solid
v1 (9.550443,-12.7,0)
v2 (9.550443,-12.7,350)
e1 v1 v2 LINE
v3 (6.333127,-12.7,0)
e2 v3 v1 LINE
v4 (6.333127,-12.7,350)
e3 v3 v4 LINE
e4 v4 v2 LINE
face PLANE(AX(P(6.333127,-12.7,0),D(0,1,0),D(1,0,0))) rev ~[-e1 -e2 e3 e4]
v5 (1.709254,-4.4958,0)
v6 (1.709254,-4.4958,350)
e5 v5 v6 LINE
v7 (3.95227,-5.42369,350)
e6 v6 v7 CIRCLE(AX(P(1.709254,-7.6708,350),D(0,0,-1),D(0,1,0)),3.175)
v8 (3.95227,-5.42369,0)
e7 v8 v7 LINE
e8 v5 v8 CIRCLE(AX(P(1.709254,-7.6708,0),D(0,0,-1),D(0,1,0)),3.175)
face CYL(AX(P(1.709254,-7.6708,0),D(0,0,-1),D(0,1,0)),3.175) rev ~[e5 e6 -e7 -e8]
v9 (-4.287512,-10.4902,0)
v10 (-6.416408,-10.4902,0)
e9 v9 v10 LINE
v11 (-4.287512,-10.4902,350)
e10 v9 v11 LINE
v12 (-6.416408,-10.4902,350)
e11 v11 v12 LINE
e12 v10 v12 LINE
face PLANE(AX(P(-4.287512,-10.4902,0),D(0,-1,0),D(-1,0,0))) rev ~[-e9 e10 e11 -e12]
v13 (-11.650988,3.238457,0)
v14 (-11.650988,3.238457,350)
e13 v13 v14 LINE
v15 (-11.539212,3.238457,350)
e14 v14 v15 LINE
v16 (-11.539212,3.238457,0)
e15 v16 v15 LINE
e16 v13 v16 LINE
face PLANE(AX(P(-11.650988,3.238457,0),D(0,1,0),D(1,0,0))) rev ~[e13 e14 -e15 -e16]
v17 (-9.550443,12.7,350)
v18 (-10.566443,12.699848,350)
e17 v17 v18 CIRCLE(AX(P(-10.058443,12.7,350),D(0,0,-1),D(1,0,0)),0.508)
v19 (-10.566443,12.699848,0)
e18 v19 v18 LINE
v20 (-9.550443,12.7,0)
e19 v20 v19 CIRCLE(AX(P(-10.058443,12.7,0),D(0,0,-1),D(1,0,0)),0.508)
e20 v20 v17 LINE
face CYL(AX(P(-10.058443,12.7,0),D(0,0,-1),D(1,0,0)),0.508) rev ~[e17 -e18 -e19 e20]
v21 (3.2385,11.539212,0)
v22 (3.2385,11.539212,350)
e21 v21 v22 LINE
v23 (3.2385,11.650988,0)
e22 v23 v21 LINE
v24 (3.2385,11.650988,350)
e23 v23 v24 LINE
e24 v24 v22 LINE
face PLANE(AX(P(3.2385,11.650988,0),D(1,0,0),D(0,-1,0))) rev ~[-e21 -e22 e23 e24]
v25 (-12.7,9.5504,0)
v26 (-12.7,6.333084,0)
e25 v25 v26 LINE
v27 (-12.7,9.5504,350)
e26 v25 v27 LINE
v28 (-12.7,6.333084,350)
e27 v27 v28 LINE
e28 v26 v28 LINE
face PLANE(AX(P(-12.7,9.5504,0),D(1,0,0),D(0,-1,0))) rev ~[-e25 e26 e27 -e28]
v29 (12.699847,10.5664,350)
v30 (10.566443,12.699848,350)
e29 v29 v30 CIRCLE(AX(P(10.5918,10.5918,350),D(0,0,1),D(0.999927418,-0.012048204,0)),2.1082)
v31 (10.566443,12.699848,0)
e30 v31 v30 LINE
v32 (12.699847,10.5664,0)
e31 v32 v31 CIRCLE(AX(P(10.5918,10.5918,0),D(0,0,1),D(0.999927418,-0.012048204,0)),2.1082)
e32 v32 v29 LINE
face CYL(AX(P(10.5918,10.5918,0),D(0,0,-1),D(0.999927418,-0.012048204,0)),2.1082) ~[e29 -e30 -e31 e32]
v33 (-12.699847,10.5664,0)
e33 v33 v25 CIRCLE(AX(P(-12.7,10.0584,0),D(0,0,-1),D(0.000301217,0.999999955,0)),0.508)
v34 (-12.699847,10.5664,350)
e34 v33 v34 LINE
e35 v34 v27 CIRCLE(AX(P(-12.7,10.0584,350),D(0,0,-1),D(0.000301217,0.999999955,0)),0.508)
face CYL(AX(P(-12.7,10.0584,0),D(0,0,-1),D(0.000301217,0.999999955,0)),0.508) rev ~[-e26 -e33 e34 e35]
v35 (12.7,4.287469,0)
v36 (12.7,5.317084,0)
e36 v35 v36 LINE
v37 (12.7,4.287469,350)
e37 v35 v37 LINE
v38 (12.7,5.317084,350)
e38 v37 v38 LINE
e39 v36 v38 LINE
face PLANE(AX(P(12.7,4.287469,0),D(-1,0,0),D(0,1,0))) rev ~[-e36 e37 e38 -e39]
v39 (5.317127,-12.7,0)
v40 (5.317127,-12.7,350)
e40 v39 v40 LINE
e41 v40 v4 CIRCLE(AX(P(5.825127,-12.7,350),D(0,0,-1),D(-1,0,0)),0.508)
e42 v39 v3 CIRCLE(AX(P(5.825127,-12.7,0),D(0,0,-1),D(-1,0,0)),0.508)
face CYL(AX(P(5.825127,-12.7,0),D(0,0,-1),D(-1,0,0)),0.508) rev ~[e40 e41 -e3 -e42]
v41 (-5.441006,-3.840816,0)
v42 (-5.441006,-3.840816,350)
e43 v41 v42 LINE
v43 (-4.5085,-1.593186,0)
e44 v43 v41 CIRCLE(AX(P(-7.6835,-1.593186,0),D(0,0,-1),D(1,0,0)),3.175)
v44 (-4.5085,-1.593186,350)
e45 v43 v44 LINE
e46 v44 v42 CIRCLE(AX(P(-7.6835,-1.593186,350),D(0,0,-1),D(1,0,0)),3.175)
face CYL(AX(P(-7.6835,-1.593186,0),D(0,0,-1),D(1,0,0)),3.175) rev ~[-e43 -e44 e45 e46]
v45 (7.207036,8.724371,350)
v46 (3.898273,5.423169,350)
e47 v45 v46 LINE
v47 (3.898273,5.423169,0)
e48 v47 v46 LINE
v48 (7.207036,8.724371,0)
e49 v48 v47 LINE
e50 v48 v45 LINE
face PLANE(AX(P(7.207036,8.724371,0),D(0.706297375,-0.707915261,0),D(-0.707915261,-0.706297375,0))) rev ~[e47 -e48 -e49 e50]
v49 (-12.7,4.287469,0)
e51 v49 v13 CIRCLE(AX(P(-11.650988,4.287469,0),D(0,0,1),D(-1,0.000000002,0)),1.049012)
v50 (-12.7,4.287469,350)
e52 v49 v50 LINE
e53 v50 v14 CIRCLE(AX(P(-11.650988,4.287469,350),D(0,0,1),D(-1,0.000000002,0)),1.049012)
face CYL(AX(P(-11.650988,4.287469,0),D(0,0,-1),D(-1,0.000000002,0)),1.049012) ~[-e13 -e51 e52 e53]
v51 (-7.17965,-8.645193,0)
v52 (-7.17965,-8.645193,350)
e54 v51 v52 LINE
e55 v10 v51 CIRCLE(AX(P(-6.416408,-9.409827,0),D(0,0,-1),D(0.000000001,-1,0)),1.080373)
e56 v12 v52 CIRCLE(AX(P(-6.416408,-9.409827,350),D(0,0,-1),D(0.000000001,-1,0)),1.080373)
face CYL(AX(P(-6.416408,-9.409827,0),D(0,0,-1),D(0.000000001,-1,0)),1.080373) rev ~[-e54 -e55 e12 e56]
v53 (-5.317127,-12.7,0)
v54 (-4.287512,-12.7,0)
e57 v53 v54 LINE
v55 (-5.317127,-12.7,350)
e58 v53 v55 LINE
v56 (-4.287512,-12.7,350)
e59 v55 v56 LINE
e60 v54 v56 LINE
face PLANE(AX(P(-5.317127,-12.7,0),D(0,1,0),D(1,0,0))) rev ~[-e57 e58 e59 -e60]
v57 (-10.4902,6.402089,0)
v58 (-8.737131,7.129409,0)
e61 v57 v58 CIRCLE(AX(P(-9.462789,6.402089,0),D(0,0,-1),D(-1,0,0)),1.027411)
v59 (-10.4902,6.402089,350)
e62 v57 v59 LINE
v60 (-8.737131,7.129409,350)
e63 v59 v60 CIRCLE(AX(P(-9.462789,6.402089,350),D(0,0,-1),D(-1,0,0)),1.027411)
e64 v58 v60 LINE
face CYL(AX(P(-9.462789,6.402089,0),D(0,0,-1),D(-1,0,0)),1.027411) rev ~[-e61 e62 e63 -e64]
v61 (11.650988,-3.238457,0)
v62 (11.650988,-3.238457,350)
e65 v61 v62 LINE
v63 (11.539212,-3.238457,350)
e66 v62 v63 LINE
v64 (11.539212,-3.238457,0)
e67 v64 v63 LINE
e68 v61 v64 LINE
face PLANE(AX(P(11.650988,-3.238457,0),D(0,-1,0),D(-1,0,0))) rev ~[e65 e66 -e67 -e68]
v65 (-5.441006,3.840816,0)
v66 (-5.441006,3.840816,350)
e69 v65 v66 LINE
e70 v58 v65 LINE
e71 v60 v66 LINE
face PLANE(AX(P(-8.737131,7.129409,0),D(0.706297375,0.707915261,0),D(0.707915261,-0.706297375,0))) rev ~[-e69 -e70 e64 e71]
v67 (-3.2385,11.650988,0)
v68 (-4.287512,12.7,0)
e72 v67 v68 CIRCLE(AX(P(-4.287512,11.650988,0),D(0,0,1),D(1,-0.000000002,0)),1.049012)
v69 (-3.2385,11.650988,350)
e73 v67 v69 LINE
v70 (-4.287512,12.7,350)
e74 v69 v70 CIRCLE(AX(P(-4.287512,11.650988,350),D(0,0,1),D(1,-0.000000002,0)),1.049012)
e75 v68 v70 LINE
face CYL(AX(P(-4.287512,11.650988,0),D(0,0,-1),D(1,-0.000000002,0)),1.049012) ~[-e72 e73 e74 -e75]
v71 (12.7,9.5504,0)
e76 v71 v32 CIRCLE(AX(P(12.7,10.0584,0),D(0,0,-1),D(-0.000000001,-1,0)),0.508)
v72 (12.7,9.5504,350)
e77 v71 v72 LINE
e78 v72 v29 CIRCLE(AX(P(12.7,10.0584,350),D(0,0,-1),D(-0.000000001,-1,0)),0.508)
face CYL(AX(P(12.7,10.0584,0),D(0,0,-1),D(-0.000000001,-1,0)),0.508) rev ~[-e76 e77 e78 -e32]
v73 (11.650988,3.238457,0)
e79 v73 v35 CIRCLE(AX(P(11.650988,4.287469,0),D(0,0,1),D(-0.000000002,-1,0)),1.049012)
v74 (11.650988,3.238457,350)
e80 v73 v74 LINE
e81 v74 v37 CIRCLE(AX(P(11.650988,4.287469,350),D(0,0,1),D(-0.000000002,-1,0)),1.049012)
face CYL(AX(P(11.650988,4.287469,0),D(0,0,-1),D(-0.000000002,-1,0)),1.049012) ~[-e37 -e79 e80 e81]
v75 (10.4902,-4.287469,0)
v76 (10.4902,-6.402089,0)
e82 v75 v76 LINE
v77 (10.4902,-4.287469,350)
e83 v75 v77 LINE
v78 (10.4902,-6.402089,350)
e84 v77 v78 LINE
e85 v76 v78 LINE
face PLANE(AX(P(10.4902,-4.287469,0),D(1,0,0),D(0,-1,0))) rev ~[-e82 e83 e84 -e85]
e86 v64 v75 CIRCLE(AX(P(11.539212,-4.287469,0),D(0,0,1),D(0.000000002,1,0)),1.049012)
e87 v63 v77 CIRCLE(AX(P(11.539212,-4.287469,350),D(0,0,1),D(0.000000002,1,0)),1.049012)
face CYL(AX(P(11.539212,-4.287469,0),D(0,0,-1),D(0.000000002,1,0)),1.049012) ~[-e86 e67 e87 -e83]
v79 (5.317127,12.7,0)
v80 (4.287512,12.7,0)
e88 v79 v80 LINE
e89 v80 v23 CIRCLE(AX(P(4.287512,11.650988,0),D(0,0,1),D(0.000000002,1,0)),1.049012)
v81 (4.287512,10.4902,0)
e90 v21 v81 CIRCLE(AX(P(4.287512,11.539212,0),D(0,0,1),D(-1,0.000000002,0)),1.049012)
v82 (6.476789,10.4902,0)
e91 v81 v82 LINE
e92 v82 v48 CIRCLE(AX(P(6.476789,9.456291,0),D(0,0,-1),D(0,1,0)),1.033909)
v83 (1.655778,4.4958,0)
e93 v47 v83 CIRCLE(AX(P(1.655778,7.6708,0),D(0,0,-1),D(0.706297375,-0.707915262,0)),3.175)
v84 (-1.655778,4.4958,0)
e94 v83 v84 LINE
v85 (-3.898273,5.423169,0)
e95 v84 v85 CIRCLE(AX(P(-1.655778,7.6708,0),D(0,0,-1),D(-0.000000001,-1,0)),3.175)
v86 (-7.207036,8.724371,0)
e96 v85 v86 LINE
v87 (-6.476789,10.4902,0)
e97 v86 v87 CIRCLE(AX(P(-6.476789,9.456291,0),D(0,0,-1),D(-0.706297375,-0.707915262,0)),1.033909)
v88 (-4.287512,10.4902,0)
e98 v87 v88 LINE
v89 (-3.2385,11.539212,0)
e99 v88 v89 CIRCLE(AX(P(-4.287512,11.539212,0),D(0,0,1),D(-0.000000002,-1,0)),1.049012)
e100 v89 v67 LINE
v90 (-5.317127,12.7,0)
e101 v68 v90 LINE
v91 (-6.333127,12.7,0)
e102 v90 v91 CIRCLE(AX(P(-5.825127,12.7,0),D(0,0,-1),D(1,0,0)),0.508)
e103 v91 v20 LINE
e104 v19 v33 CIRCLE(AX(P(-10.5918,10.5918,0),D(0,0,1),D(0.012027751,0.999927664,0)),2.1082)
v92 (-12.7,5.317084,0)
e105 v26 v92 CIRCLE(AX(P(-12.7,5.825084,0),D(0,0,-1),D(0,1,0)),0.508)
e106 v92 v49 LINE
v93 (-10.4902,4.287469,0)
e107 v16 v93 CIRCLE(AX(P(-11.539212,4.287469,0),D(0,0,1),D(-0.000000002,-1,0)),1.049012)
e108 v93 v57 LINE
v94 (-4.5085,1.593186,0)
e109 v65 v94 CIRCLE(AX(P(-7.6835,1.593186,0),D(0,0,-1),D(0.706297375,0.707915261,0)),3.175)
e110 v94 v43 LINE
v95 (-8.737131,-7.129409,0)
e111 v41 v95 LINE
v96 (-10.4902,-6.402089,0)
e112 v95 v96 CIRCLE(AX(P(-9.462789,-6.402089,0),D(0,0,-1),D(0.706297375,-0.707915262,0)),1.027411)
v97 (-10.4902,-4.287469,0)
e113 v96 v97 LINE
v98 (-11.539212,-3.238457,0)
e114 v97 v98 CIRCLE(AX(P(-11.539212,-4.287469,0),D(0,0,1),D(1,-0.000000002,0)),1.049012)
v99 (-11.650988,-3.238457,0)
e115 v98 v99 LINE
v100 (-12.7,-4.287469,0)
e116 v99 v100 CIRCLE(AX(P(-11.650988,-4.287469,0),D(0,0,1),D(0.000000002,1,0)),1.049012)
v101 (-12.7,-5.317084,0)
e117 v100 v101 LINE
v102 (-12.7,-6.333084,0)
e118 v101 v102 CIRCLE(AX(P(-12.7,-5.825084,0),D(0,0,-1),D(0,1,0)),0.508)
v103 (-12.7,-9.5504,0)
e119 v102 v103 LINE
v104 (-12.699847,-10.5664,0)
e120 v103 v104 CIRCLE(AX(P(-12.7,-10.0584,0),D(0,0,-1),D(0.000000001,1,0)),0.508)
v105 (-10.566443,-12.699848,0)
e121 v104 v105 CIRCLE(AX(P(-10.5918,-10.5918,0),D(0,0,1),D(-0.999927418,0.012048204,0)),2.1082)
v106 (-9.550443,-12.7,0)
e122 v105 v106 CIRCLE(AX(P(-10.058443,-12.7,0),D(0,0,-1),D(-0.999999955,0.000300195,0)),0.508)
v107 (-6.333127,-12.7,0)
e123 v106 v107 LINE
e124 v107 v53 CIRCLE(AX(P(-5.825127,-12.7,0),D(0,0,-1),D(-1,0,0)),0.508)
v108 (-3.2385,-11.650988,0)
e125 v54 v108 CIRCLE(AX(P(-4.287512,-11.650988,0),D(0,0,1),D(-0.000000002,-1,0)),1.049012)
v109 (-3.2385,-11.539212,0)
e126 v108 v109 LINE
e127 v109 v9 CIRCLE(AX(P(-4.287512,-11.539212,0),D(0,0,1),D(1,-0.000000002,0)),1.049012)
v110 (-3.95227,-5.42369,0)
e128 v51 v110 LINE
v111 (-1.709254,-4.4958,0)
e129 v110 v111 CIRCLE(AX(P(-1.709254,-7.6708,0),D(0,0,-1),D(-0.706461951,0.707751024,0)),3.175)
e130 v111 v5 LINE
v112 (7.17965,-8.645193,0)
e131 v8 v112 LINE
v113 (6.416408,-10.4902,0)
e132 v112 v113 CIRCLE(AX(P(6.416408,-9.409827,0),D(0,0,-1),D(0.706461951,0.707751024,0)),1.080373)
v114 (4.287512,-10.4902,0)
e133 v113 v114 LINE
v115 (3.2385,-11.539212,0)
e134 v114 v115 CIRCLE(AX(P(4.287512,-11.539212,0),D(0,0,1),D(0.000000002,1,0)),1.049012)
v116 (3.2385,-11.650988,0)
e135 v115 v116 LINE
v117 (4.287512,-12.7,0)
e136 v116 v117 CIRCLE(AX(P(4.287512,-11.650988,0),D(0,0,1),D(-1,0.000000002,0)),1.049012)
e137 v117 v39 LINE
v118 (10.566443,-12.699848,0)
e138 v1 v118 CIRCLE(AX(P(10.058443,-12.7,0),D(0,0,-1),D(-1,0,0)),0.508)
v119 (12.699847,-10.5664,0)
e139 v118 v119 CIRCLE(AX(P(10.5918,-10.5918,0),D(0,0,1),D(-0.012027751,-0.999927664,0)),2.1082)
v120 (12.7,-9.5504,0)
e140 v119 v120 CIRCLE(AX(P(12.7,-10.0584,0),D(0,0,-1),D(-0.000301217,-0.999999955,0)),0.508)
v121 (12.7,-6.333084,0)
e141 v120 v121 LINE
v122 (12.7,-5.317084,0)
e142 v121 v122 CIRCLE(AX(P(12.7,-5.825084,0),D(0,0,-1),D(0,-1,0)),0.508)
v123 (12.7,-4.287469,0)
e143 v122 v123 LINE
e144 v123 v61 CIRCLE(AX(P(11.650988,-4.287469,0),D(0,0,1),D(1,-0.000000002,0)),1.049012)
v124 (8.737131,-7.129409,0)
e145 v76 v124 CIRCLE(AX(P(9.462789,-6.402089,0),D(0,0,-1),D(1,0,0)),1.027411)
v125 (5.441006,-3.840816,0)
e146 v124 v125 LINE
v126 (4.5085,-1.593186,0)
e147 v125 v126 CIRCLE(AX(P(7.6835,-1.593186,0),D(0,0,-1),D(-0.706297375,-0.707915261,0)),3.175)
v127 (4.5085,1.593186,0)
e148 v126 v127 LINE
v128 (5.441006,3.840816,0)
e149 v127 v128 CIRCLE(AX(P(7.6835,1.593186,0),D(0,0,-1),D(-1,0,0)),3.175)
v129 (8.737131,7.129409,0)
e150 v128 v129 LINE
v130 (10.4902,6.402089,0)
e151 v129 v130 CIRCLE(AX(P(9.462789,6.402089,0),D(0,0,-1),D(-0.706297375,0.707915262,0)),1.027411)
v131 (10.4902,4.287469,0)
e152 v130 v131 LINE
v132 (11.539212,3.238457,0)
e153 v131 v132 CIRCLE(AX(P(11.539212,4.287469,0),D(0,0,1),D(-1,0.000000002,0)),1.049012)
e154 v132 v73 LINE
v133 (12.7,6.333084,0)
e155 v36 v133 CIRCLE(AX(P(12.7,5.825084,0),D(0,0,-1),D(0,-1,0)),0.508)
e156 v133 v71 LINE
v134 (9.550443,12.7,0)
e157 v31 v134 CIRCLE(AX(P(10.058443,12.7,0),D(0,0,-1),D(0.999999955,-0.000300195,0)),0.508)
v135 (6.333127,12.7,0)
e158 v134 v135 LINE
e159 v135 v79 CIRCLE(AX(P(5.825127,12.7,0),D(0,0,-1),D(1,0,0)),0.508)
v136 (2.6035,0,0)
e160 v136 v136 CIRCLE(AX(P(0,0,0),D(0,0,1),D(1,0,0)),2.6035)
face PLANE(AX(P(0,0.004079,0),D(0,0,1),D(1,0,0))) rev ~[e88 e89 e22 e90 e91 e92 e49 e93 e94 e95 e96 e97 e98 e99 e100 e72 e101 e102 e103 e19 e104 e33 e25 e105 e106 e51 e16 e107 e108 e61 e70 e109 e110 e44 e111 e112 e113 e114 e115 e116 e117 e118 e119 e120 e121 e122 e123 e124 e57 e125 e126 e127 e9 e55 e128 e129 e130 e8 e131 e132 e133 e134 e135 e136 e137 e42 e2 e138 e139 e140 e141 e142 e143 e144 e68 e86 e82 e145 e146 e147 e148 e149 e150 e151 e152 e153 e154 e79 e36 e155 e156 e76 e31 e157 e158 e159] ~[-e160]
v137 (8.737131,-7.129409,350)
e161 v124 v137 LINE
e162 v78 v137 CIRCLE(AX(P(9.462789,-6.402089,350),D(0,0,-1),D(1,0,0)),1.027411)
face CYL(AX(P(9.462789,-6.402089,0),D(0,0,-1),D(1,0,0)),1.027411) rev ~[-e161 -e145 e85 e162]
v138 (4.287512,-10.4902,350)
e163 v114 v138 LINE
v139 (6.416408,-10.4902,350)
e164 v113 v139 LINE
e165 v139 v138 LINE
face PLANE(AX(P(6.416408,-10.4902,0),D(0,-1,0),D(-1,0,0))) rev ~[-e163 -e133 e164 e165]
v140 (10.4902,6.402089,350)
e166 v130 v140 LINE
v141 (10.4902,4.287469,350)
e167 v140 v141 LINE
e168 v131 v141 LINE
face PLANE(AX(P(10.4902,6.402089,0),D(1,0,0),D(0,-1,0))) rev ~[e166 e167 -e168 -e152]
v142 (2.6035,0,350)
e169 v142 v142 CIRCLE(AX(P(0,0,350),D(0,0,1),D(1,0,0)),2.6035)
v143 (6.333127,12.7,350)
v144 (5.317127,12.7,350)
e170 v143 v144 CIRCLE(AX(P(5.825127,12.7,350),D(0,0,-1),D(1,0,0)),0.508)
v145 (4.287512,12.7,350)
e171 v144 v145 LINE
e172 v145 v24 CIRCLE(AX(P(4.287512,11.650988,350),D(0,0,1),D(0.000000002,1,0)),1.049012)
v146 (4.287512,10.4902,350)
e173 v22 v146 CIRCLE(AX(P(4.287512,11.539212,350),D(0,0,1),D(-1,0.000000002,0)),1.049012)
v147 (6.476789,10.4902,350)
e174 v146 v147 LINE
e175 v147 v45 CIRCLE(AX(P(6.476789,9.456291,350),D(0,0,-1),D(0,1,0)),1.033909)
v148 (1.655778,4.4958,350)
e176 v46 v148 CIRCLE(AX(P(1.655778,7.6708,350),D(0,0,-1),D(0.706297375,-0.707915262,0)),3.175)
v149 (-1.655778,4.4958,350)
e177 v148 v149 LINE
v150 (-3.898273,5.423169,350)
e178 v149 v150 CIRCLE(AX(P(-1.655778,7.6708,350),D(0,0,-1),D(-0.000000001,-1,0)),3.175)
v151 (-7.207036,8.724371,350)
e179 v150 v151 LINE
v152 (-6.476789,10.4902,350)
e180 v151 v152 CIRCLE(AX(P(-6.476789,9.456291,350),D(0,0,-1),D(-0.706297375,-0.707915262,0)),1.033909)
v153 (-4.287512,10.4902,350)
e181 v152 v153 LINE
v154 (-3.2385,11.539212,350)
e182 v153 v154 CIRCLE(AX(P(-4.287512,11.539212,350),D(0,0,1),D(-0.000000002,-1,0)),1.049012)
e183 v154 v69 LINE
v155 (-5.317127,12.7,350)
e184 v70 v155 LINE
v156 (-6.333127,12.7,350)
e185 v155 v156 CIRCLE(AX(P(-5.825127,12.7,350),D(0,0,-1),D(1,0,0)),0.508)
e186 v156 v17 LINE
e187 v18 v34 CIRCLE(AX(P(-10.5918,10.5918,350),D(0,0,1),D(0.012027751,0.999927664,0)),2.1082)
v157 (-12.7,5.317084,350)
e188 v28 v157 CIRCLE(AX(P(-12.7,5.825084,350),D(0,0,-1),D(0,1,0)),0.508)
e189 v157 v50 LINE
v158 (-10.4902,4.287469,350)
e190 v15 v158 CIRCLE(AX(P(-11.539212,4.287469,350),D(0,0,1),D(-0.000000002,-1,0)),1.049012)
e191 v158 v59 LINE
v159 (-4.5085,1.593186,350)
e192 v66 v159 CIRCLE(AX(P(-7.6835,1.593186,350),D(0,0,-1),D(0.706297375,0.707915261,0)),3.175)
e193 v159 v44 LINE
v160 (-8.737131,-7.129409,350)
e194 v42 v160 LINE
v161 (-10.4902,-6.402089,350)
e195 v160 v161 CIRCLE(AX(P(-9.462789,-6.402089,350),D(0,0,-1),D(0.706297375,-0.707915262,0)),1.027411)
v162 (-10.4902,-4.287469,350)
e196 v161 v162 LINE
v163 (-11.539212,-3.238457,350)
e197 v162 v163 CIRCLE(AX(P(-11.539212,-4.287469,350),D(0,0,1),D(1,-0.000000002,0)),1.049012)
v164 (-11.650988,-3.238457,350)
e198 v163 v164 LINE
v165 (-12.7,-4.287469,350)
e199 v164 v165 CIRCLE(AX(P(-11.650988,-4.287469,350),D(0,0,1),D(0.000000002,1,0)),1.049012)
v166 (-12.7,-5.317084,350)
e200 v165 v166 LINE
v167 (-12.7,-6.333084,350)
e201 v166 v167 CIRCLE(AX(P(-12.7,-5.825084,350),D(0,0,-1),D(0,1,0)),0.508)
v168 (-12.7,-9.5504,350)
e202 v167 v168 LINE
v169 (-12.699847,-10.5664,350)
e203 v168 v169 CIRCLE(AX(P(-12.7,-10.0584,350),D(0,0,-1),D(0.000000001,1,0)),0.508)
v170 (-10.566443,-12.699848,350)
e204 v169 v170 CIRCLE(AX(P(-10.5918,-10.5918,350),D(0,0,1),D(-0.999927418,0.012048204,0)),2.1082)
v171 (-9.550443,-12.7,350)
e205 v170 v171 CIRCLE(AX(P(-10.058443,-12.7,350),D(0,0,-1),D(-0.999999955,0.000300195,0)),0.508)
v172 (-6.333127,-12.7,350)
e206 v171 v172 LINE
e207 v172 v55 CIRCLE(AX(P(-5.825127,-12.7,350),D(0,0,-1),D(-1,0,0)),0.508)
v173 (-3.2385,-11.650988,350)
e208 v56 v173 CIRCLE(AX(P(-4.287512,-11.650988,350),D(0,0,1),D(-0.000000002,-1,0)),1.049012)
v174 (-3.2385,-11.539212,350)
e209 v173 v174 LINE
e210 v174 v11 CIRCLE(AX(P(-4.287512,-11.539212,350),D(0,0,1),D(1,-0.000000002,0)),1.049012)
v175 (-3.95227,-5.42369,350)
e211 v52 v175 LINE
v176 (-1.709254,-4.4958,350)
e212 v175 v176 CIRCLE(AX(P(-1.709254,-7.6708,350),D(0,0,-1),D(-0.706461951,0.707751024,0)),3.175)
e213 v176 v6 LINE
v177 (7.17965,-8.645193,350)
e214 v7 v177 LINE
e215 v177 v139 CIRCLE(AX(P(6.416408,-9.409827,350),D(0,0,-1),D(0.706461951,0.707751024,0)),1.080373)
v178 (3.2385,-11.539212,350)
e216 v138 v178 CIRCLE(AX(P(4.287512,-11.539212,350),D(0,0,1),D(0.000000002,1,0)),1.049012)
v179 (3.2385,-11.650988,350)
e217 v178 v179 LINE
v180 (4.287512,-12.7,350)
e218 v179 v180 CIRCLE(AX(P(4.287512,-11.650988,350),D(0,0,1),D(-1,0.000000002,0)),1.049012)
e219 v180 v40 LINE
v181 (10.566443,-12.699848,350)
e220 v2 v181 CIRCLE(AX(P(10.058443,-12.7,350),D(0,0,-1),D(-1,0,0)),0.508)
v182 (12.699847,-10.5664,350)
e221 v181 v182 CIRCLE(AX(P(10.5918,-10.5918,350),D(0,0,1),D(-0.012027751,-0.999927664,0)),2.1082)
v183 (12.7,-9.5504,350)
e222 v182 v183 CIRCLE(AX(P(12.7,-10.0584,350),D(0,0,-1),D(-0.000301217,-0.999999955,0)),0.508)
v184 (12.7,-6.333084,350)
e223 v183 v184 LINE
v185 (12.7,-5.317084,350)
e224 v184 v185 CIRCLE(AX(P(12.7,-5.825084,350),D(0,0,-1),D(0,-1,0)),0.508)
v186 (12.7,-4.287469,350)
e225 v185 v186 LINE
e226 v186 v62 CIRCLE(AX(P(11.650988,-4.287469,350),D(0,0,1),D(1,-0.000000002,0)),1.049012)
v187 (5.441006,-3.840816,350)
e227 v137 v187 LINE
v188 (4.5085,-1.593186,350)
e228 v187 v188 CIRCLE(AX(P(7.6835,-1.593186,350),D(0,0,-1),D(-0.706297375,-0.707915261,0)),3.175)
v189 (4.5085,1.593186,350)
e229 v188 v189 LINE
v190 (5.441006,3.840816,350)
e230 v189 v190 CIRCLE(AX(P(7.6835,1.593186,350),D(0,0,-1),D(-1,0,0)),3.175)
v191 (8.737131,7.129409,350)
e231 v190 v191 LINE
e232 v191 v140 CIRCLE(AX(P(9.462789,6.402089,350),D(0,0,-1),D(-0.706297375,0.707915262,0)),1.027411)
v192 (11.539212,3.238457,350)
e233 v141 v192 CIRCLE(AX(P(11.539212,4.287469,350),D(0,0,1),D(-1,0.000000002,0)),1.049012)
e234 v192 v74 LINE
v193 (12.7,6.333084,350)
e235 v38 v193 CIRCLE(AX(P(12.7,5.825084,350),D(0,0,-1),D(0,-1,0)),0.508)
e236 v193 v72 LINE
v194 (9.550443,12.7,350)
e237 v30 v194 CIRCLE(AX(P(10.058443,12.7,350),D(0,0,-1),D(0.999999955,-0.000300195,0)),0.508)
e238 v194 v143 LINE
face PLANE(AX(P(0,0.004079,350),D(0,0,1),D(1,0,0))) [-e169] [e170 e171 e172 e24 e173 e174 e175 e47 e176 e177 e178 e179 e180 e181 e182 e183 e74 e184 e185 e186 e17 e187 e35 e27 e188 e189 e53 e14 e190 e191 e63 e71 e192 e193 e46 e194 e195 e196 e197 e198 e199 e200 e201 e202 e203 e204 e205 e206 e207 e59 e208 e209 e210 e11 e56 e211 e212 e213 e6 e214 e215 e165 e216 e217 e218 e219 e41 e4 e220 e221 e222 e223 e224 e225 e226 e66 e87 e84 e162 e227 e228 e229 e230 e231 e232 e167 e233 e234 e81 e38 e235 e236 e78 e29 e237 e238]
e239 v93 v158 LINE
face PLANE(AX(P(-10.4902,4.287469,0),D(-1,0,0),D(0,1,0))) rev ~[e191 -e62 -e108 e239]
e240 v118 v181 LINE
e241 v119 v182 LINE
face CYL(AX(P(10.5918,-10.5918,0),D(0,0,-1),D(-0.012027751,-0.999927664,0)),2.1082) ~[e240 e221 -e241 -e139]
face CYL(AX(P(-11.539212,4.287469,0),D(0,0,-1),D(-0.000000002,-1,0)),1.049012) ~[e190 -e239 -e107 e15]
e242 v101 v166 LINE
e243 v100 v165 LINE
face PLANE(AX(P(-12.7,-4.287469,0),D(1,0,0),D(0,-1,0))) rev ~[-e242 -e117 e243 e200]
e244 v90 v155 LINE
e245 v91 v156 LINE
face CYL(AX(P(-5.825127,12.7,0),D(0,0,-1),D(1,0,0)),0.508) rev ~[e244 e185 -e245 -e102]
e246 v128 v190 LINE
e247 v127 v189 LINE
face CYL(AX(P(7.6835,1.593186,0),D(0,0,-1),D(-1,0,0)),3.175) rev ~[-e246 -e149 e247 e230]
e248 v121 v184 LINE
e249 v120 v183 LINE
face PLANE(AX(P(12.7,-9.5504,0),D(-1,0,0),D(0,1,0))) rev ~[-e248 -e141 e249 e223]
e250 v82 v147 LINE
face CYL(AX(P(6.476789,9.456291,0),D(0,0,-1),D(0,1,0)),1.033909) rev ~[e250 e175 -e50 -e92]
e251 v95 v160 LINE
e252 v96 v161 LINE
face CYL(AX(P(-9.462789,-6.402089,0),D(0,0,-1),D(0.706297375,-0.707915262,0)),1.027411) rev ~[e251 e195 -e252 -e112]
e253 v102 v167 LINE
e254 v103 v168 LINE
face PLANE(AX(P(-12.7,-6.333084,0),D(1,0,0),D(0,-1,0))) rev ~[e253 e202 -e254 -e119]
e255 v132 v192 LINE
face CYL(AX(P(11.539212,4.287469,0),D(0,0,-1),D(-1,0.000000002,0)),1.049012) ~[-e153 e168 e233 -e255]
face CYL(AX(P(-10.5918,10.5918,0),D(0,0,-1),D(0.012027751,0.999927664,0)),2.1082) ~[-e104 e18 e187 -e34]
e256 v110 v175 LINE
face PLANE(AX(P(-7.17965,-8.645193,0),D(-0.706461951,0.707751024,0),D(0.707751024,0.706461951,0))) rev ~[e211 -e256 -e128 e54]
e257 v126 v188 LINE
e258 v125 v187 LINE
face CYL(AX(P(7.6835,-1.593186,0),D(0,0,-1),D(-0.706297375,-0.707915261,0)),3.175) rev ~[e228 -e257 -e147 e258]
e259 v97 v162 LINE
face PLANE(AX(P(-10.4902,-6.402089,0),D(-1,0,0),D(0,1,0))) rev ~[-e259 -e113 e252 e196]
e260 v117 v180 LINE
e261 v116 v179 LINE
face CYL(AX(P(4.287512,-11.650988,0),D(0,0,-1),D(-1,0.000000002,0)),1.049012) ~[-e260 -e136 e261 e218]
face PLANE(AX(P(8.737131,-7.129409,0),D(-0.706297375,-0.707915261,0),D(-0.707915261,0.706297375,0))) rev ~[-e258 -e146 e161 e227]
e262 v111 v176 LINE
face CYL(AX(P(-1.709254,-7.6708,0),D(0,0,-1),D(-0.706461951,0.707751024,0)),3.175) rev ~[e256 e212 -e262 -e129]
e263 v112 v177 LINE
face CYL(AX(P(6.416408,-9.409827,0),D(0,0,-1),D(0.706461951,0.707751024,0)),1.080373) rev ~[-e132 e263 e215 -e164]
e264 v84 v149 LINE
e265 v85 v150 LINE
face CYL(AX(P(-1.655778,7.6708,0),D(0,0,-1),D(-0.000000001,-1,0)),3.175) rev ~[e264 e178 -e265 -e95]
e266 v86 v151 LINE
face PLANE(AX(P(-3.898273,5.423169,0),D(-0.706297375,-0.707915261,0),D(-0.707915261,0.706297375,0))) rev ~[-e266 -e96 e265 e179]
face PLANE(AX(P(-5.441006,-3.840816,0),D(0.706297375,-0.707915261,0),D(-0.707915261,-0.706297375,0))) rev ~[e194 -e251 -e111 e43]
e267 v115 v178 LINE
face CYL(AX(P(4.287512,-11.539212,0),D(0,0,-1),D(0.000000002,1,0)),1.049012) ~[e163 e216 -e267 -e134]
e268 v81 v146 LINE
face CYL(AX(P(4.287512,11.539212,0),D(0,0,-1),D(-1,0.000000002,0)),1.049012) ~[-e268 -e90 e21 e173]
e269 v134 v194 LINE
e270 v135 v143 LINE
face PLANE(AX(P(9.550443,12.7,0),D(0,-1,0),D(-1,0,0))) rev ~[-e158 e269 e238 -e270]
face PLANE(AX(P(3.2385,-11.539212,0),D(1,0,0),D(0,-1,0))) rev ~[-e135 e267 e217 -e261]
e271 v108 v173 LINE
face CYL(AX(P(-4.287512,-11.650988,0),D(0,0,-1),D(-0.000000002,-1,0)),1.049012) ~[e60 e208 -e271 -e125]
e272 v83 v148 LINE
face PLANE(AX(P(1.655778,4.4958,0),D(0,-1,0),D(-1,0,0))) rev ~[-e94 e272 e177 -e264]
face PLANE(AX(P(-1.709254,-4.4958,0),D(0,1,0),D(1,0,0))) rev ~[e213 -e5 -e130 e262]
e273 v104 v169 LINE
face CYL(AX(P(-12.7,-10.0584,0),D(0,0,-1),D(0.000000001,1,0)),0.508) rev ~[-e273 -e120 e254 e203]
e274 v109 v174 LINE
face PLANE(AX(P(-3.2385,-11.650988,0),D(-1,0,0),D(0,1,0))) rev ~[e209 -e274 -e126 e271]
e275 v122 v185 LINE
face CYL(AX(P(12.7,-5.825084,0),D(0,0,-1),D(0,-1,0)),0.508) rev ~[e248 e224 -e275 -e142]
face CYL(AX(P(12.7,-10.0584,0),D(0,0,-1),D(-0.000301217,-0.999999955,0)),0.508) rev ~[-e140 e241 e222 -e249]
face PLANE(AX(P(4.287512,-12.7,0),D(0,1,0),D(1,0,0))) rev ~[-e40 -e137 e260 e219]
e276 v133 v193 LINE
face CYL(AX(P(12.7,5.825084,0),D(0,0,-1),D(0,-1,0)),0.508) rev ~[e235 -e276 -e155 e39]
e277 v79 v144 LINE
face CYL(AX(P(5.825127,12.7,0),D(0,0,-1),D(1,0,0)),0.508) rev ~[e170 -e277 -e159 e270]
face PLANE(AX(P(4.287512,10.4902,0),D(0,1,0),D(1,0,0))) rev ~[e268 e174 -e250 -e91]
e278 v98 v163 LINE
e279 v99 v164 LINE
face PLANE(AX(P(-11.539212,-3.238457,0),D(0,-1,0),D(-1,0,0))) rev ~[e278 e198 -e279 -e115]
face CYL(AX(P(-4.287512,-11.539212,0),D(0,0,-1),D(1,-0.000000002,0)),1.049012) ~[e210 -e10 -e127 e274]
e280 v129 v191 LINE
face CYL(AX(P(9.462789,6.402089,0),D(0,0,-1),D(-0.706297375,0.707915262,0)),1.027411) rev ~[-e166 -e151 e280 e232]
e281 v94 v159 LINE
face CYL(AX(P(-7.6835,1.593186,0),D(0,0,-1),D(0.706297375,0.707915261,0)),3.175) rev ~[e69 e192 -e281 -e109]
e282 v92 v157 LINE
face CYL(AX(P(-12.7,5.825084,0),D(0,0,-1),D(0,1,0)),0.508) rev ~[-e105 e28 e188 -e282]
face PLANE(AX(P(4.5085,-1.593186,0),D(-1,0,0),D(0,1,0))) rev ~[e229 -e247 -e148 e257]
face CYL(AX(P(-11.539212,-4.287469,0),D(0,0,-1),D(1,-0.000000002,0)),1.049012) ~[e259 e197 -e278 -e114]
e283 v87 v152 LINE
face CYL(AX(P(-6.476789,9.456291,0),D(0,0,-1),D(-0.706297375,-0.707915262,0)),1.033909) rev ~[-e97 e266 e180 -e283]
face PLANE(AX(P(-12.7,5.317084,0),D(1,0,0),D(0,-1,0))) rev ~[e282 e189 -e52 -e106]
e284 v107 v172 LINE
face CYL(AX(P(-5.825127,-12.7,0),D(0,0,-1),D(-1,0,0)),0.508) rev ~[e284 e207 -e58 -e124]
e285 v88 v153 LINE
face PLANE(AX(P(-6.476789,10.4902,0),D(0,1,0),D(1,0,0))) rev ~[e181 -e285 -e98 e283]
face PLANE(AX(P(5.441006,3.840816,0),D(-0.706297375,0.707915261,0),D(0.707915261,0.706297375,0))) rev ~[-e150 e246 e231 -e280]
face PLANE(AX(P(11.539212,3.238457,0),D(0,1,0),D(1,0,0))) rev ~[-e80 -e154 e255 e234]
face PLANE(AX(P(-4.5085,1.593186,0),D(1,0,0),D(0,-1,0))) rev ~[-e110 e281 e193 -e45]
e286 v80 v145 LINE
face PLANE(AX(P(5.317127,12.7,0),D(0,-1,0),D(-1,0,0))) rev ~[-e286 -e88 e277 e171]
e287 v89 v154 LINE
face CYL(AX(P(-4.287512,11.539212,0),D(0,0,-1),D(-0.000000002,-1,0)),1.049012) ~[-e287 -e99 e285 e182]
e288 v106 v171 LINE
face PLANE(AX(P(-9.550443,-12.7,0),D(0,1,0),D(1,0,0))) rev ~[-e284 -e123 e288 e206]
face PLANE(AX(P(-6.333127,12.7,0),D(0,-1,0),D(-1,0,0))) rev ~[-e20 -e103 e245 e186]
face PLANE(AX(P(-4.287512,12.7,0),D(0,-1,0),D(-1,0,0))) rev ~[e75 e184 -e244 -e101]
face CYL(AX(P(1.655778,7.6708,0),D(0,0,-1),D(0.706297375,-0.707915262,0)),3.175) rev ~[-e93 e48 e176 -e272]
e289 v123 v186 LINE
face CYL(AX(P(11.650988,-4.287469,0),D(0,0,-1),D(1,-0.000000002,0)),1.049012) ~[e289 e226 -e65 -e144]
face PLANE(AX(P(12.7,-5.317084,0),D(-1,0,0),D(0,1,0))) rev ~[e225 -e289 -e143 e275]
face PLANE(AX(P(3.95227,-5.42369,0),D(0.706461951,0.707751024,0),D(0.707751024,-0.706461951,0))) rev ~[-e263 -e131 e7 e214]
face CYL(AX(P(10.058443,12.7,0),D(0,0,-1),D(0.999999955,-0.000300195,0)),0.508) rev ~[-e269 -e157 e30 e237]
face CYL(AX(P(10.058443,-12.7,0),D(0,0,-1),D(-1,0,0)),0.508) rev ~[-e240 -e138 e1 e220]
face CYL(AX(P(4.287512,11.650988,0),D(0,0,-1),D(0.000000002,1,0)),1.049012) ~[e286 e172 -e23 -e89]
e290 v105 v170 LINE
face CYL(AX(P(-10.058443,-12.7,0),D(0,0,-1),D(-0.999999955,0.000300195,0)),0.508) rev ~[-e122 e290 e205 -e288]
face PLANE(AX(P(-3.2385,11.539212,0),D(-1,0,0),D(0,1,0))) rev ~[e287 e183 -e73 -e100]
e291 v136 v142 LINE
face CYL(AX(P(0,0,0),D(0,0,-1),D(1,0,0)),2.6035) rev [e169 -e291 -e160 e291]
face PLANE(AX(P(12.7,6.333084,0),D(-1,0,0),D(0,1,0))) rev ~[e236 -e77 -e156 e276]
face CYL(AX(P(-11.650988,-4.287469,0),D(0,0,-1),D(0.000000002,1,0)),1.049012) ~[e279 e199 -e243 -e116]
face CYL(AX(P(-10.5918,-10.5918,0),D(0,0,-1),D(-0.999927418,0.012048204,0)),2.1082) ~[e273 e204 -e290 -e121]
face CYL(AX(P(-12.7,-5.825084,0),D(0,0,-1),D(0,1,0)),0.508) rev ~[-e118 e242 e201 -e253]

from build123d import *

# Parameters (mm, degrees)
SKETCH1_R           = 2.6035
BOSS_EXTRUDE1_DEPTH = 350


with BuildPart() as part:
    # Sketch1 → Boss-Extrude1 (new body)
    with BuildSketch(Plane.XY):
        with BuildLine():
            Line((-7.179650497, -8.645192506), (-3.952270251, -5.423690499))
            ThreePointArc((-3.952270251, -5.423690499), (-2.922936451, -4.736929036), (-1.709253557, -4.4958))
            Line((-1.709253557, -4.4958), (1.709253557, -4.4958))
            ThreePointArc((1.709253557, -4.4958), (2.922936451, -4.736929036), (3.952270251, -5.423690499))
            Line((3.952270251, -5.423690499), (7.179650497, -8.645192506))
            ThreePointArc((7.179650497, -8.645192506), (7.41473083, -9.822813117), (6.416408329, -10.4902))
            Line((6.416408329, -10.4902), (4.287512407, -10.4902))
            ThreePointArc((4.287512407, -10.4902), (3.54574862, -10.79744862), (3.2385, -11.539212407))
            Line((3.2385, -11.539212407), (3.2385, -11.650987593))
            ThreePointArc((3.2385, -11.650987593), (3.54574862, -12.39275138), (4.287512407, -12.7))
            Line((4.287512407, -12.7), (5.317126718, -12.7))
            ThreePointArc((5.317126718, -12.7), (5.825126718, -12.192), (6.333126718, -12.7))
            Line((6.333126718, -12.7), (9.550443118, -12.7))
            ThreePointArc((9.550443118, -12.7), (10.058366869, -12.192000006), (10.566443095, -12.699847501))
            ThreePointArc((10.566443095, -12.699847501), (12.082537762, -12.08250727), (12.699846982, -10.566399977))
            ThreePointArc((12.699846982, -10.566399977), (12.192000006, -10.058323491), (12.7, -9.5504))
            Line((12.7, -9.5504), (12.7, -6.3330836))
            ThreePointArc((12.7, -6.3330836), (12.192, -5.8250836), (12.7, -5.3170836))
            Line((12.7, -5.3170836), (12.7, -4.287469289))
            ThreePointArc((12.7, -4.287469289), (12.39275138, -3.545705502), (11.650987593, -3.238456882))
            Line((11.650987593, -3.238456882), (11.539212407, -3.238456882))
            ThreePointArc((11.539212407, -3.238456882), (10.79744862, -3.545705502), (10.4902, -4.287469289))
            Line((10.4902, -4.287469289), (10.4902, -6.402089023))
            ThreePointArc((10.4902, -6.402089023), (9.856505071, -7.351067942), (8.737131347, -7.129408934))
            Line((8.737131347, -7.129408934), (5.441005833, -3.840816462))
            ThreePointArc((5.441005833, -3.840816462), (4.750877967, -2.809883091), (4.5085, -1.593185507))
            Line((4.5085, -1.593185507), (4.5085, 1.593185507))
            ThreePointArc((4.5085, 1.593185507), (4.750877967, 2.809883091), (5.441005833, 3.840816462))
            Line((5.441005833, 3.840816462), (8.737131347, 7.129408934))
            ThreePointArc((8.737131347, 7.129408934), (9.856505071, 7.351067942), (10.4902, 6.402089023))
            Line((10.4902, 6.402089023), (10.4902, 4.287469289))
            ThreePointArc((10.4902, 4.287469289), (10.79744862, 3.545705502), (11.539212407, 3.238456882))
            Line((11.539212407, 3.238456882), (11.650987593, 3.238456882))
            ThreePointArc((11.650987593, 3.238456882), (12.39275138, 3.545705502), (12.7, 4.287469289))
            Line((12.7, 4.287469289), (12.7, 5.3170836))
            ThreePointArc((12.7, 5.3170836), (12.192, 5.8250836), (12.7, 6.3330836))
            Line((12.7, 6.3330836), (12.7, 9.5504))
            ThreePointArc((12.7, 9.5504), (12.192000006, 10.058323491), (12.699846982, 10.566399977))
            ThreePointArc((12.699846982, 10.566399977), (12.082537762, 12.08250727), (10.566443095, 12.699847501))
            ThreePointArc((10.566443095, 12.699847501), (10.058366869, 12.192000006), (9.550443118, 12.7))
            Line((9.550443118, 12.7), (6.333126718, 12.7))
            ThreePointArc((6.333126718, 12.7), (5.825126718, 12.192), (5.317126718, 12.7))
            Line((5.317126718, 12.7), (4.287512407, 12.7))
            ThreePointArc((4.287512407, 12.7), (3.54574862, 12.39275138), (3.2385, 11.650987593))
            Line((3.2385, 11.650987593), (3.2385, 11.539212407))
            ThreePointArc((3.2385, 11.539212407), (3.54574862, 10.79744862), (4.287512407, 10.4902))
            Line((4.287512407, 10.4902), (6.476788598, 10.4902))
            ThreePointArc((6.476788598, 10.4902), (7.432222385, 9.85140422), (7.207036008, 8.724370562))
            Line((7.207036008, 8.724370562), (3.898272566, 5.423169045))
            ThreePointArc((3.898272566, 5.423169045), (2.869120213, 4.736787962), (1.655778399, 4.4958))
            Line((1.655778399, 4.4958), (-1.655778399, 4.4958))
            ThreePointArc((-1.655778399, 4.4958), (-2.869120213, 4.736787962), (-3.898272566, 5.423169045))
            Line((-3.898272566, 5.423169045), (-7.207036008, 8.724370562))
            ThreePointArc((-7.207036008, 8.724370562), (-7.432222385, 9.85140422), (-6.476788598, 10.4902))
            Line((-6.476788598, 10.4902), (-4.287512407, 10.4902))
            ThreePointArc((-4.287512407, 10.4902), (-3.54574862, 10.79744862), (-3.2385, 11.539212407))
            Line((-3.2385, 11.539212407), (-3.2385, 11.650987593))
            ThreePointArc((-3.2385, 11.650987593), (-3.54574862, 12.39275138), (-4.287512407, 12.7))
            Line((-4.287512407, 12.7), (-5.317126718, 12.7))
            ThreePointArc((-5.317126718, 12.7), (-5.825126718, 12.192), (-6.333126718, 12.7))
            Line((-6.333126718, 12.7), (-9.550443118, 12.7))
            ThreePointArc((-9.550443118, 12.7), (-10.058366869, 12.192000006), (-10.566443095, 12.699847501))
            ThreePointArc((-10.566443095, 12.699847501), (-12.082537762, 12.08250727), (-12.699846982, 10.566399977))
            ThreePointArc((-12.699846982, 10.566399977), (-12.192000006, 10.058323491), (-12.7, 9.5504))
            Line((-12.7, 9.5504), (-12.7, 6.3330836))
            ThreePointArc((-12.7, 6.3330836), (-12.192, 5.8250836), (-12.7, 5.3170836))
            Line((-12.7, 5.3170836), (-12.7, 4.287469289))
            ThreePointArc((-12.7, 4.287469289), (-12.39275138, 3.545705502), (-11.650987593, 3.238456882))
            Line((-11.650987593, 3.238456882), (-11.539212407, 3.238456882))
            ThreePointArc((-11.539212407, 3.238456882), (-10.79744862, 3.545705502), (-10.4902, 4.287469289))
            Line((-10.4902, 4.287469289), (-10.4902, 6.402089023))
            ThreePointArc((-10.4902, 6.402089023), (-9.856505071, 7.351067942), (-8.737131347, 7.129408934))
            Line((-8.737131347, 7.129408934), (-5.441005833, 3.840816462))
            ThreePointArc((-5.441005833, 3.840816462), (-4.750877967, 2.809883091), (-4.5085, 1.593185507))
            Line((-4.5085, 1.593185507), (-4.5085, -1.593185507))
            ThreePointArc((-4.5085, -1.593185507), (-4.750877967, -2.809883091), (-5.441005833, -3.840816462))
            Line((-5.441005833, -3.840816462), (-8.737131347, -7.129408934))
            ThreePointArc((-8.737131347, -7.129408934), (-9.856505071, -7.351067942), (-10.4902, -6.402089023))
            Line((-10.4902, -6.402089023), (-10.4902, -4.287469289))
            ThreePointArc((-10.4902, -4.287469289), (-10.79744862, -3.545705502), (-11.539212407, -3.238456882))
            Line((-11.539212407, -3.238456882), (-11.650987593, -3.238456882))
            ThreePointArc((-11.650987593, -3.238456882), (-12.39275138, -3.545705502), (-12.7, -4.287469289))
            Line((-12.7, -4.287469289), (-12.7, -5.3170836))
            ThreePointArc((-12.7, -5.3170836), (-12.192, -5.8250836), (-12.7, -6.3330836))
            Line((-12.7, -6.3330836), (-12.7, -9.5504))
            ThreePointArc((-12.7, -9.5504), (-12.192000006, -10.058323491), (-12.699846982, -10.566399977))
            ThreePointArc((-12.699846982, -10.566399977), (-12.082537762, -12.08250727), (-10.566443095, -12.699847501))
            ThreePointArc((-10.566443095, -12.699847501), (-10.058366869, -12.192000006), (-9.550443118, -12.7))
            Line((-9.550443118, -12.7), (-6.333126718, -12.7))
            ThreePointArc((-6.333126718, -12.7), (-5.825126718, -12.192), (-5.317126718, -12.7))
            Line((-5.317126718, -12.7), (-4.287512407, -12.7))
            ThreePointArc((-4.287512407, -12.7), (-3.54574862, -12.39275138), (-3.2385, -11.650987593))
            Line((-3.2385, -11.650987593), (-3.2385, -11.539212407))
            ThreePointArc((-3.2385, -11.539212407), (-3.54574862, -10.79744862), (-4.287512407, -10.4902))
            Line((-4.287512407, -10.4902), (-6.416408329, -10.4902))
            ThreePointArc((-6.416408329, -10.4902), (-7.41473083, -9.822813117), (-7.179650497, -8.645192506))
        make_face()
        Circle(SKETCH1_R, mode=Mode.SUBTRACT)
    extrude(amount=BOSS_EXTRUDE1_DEPTH)


solid = part.part
